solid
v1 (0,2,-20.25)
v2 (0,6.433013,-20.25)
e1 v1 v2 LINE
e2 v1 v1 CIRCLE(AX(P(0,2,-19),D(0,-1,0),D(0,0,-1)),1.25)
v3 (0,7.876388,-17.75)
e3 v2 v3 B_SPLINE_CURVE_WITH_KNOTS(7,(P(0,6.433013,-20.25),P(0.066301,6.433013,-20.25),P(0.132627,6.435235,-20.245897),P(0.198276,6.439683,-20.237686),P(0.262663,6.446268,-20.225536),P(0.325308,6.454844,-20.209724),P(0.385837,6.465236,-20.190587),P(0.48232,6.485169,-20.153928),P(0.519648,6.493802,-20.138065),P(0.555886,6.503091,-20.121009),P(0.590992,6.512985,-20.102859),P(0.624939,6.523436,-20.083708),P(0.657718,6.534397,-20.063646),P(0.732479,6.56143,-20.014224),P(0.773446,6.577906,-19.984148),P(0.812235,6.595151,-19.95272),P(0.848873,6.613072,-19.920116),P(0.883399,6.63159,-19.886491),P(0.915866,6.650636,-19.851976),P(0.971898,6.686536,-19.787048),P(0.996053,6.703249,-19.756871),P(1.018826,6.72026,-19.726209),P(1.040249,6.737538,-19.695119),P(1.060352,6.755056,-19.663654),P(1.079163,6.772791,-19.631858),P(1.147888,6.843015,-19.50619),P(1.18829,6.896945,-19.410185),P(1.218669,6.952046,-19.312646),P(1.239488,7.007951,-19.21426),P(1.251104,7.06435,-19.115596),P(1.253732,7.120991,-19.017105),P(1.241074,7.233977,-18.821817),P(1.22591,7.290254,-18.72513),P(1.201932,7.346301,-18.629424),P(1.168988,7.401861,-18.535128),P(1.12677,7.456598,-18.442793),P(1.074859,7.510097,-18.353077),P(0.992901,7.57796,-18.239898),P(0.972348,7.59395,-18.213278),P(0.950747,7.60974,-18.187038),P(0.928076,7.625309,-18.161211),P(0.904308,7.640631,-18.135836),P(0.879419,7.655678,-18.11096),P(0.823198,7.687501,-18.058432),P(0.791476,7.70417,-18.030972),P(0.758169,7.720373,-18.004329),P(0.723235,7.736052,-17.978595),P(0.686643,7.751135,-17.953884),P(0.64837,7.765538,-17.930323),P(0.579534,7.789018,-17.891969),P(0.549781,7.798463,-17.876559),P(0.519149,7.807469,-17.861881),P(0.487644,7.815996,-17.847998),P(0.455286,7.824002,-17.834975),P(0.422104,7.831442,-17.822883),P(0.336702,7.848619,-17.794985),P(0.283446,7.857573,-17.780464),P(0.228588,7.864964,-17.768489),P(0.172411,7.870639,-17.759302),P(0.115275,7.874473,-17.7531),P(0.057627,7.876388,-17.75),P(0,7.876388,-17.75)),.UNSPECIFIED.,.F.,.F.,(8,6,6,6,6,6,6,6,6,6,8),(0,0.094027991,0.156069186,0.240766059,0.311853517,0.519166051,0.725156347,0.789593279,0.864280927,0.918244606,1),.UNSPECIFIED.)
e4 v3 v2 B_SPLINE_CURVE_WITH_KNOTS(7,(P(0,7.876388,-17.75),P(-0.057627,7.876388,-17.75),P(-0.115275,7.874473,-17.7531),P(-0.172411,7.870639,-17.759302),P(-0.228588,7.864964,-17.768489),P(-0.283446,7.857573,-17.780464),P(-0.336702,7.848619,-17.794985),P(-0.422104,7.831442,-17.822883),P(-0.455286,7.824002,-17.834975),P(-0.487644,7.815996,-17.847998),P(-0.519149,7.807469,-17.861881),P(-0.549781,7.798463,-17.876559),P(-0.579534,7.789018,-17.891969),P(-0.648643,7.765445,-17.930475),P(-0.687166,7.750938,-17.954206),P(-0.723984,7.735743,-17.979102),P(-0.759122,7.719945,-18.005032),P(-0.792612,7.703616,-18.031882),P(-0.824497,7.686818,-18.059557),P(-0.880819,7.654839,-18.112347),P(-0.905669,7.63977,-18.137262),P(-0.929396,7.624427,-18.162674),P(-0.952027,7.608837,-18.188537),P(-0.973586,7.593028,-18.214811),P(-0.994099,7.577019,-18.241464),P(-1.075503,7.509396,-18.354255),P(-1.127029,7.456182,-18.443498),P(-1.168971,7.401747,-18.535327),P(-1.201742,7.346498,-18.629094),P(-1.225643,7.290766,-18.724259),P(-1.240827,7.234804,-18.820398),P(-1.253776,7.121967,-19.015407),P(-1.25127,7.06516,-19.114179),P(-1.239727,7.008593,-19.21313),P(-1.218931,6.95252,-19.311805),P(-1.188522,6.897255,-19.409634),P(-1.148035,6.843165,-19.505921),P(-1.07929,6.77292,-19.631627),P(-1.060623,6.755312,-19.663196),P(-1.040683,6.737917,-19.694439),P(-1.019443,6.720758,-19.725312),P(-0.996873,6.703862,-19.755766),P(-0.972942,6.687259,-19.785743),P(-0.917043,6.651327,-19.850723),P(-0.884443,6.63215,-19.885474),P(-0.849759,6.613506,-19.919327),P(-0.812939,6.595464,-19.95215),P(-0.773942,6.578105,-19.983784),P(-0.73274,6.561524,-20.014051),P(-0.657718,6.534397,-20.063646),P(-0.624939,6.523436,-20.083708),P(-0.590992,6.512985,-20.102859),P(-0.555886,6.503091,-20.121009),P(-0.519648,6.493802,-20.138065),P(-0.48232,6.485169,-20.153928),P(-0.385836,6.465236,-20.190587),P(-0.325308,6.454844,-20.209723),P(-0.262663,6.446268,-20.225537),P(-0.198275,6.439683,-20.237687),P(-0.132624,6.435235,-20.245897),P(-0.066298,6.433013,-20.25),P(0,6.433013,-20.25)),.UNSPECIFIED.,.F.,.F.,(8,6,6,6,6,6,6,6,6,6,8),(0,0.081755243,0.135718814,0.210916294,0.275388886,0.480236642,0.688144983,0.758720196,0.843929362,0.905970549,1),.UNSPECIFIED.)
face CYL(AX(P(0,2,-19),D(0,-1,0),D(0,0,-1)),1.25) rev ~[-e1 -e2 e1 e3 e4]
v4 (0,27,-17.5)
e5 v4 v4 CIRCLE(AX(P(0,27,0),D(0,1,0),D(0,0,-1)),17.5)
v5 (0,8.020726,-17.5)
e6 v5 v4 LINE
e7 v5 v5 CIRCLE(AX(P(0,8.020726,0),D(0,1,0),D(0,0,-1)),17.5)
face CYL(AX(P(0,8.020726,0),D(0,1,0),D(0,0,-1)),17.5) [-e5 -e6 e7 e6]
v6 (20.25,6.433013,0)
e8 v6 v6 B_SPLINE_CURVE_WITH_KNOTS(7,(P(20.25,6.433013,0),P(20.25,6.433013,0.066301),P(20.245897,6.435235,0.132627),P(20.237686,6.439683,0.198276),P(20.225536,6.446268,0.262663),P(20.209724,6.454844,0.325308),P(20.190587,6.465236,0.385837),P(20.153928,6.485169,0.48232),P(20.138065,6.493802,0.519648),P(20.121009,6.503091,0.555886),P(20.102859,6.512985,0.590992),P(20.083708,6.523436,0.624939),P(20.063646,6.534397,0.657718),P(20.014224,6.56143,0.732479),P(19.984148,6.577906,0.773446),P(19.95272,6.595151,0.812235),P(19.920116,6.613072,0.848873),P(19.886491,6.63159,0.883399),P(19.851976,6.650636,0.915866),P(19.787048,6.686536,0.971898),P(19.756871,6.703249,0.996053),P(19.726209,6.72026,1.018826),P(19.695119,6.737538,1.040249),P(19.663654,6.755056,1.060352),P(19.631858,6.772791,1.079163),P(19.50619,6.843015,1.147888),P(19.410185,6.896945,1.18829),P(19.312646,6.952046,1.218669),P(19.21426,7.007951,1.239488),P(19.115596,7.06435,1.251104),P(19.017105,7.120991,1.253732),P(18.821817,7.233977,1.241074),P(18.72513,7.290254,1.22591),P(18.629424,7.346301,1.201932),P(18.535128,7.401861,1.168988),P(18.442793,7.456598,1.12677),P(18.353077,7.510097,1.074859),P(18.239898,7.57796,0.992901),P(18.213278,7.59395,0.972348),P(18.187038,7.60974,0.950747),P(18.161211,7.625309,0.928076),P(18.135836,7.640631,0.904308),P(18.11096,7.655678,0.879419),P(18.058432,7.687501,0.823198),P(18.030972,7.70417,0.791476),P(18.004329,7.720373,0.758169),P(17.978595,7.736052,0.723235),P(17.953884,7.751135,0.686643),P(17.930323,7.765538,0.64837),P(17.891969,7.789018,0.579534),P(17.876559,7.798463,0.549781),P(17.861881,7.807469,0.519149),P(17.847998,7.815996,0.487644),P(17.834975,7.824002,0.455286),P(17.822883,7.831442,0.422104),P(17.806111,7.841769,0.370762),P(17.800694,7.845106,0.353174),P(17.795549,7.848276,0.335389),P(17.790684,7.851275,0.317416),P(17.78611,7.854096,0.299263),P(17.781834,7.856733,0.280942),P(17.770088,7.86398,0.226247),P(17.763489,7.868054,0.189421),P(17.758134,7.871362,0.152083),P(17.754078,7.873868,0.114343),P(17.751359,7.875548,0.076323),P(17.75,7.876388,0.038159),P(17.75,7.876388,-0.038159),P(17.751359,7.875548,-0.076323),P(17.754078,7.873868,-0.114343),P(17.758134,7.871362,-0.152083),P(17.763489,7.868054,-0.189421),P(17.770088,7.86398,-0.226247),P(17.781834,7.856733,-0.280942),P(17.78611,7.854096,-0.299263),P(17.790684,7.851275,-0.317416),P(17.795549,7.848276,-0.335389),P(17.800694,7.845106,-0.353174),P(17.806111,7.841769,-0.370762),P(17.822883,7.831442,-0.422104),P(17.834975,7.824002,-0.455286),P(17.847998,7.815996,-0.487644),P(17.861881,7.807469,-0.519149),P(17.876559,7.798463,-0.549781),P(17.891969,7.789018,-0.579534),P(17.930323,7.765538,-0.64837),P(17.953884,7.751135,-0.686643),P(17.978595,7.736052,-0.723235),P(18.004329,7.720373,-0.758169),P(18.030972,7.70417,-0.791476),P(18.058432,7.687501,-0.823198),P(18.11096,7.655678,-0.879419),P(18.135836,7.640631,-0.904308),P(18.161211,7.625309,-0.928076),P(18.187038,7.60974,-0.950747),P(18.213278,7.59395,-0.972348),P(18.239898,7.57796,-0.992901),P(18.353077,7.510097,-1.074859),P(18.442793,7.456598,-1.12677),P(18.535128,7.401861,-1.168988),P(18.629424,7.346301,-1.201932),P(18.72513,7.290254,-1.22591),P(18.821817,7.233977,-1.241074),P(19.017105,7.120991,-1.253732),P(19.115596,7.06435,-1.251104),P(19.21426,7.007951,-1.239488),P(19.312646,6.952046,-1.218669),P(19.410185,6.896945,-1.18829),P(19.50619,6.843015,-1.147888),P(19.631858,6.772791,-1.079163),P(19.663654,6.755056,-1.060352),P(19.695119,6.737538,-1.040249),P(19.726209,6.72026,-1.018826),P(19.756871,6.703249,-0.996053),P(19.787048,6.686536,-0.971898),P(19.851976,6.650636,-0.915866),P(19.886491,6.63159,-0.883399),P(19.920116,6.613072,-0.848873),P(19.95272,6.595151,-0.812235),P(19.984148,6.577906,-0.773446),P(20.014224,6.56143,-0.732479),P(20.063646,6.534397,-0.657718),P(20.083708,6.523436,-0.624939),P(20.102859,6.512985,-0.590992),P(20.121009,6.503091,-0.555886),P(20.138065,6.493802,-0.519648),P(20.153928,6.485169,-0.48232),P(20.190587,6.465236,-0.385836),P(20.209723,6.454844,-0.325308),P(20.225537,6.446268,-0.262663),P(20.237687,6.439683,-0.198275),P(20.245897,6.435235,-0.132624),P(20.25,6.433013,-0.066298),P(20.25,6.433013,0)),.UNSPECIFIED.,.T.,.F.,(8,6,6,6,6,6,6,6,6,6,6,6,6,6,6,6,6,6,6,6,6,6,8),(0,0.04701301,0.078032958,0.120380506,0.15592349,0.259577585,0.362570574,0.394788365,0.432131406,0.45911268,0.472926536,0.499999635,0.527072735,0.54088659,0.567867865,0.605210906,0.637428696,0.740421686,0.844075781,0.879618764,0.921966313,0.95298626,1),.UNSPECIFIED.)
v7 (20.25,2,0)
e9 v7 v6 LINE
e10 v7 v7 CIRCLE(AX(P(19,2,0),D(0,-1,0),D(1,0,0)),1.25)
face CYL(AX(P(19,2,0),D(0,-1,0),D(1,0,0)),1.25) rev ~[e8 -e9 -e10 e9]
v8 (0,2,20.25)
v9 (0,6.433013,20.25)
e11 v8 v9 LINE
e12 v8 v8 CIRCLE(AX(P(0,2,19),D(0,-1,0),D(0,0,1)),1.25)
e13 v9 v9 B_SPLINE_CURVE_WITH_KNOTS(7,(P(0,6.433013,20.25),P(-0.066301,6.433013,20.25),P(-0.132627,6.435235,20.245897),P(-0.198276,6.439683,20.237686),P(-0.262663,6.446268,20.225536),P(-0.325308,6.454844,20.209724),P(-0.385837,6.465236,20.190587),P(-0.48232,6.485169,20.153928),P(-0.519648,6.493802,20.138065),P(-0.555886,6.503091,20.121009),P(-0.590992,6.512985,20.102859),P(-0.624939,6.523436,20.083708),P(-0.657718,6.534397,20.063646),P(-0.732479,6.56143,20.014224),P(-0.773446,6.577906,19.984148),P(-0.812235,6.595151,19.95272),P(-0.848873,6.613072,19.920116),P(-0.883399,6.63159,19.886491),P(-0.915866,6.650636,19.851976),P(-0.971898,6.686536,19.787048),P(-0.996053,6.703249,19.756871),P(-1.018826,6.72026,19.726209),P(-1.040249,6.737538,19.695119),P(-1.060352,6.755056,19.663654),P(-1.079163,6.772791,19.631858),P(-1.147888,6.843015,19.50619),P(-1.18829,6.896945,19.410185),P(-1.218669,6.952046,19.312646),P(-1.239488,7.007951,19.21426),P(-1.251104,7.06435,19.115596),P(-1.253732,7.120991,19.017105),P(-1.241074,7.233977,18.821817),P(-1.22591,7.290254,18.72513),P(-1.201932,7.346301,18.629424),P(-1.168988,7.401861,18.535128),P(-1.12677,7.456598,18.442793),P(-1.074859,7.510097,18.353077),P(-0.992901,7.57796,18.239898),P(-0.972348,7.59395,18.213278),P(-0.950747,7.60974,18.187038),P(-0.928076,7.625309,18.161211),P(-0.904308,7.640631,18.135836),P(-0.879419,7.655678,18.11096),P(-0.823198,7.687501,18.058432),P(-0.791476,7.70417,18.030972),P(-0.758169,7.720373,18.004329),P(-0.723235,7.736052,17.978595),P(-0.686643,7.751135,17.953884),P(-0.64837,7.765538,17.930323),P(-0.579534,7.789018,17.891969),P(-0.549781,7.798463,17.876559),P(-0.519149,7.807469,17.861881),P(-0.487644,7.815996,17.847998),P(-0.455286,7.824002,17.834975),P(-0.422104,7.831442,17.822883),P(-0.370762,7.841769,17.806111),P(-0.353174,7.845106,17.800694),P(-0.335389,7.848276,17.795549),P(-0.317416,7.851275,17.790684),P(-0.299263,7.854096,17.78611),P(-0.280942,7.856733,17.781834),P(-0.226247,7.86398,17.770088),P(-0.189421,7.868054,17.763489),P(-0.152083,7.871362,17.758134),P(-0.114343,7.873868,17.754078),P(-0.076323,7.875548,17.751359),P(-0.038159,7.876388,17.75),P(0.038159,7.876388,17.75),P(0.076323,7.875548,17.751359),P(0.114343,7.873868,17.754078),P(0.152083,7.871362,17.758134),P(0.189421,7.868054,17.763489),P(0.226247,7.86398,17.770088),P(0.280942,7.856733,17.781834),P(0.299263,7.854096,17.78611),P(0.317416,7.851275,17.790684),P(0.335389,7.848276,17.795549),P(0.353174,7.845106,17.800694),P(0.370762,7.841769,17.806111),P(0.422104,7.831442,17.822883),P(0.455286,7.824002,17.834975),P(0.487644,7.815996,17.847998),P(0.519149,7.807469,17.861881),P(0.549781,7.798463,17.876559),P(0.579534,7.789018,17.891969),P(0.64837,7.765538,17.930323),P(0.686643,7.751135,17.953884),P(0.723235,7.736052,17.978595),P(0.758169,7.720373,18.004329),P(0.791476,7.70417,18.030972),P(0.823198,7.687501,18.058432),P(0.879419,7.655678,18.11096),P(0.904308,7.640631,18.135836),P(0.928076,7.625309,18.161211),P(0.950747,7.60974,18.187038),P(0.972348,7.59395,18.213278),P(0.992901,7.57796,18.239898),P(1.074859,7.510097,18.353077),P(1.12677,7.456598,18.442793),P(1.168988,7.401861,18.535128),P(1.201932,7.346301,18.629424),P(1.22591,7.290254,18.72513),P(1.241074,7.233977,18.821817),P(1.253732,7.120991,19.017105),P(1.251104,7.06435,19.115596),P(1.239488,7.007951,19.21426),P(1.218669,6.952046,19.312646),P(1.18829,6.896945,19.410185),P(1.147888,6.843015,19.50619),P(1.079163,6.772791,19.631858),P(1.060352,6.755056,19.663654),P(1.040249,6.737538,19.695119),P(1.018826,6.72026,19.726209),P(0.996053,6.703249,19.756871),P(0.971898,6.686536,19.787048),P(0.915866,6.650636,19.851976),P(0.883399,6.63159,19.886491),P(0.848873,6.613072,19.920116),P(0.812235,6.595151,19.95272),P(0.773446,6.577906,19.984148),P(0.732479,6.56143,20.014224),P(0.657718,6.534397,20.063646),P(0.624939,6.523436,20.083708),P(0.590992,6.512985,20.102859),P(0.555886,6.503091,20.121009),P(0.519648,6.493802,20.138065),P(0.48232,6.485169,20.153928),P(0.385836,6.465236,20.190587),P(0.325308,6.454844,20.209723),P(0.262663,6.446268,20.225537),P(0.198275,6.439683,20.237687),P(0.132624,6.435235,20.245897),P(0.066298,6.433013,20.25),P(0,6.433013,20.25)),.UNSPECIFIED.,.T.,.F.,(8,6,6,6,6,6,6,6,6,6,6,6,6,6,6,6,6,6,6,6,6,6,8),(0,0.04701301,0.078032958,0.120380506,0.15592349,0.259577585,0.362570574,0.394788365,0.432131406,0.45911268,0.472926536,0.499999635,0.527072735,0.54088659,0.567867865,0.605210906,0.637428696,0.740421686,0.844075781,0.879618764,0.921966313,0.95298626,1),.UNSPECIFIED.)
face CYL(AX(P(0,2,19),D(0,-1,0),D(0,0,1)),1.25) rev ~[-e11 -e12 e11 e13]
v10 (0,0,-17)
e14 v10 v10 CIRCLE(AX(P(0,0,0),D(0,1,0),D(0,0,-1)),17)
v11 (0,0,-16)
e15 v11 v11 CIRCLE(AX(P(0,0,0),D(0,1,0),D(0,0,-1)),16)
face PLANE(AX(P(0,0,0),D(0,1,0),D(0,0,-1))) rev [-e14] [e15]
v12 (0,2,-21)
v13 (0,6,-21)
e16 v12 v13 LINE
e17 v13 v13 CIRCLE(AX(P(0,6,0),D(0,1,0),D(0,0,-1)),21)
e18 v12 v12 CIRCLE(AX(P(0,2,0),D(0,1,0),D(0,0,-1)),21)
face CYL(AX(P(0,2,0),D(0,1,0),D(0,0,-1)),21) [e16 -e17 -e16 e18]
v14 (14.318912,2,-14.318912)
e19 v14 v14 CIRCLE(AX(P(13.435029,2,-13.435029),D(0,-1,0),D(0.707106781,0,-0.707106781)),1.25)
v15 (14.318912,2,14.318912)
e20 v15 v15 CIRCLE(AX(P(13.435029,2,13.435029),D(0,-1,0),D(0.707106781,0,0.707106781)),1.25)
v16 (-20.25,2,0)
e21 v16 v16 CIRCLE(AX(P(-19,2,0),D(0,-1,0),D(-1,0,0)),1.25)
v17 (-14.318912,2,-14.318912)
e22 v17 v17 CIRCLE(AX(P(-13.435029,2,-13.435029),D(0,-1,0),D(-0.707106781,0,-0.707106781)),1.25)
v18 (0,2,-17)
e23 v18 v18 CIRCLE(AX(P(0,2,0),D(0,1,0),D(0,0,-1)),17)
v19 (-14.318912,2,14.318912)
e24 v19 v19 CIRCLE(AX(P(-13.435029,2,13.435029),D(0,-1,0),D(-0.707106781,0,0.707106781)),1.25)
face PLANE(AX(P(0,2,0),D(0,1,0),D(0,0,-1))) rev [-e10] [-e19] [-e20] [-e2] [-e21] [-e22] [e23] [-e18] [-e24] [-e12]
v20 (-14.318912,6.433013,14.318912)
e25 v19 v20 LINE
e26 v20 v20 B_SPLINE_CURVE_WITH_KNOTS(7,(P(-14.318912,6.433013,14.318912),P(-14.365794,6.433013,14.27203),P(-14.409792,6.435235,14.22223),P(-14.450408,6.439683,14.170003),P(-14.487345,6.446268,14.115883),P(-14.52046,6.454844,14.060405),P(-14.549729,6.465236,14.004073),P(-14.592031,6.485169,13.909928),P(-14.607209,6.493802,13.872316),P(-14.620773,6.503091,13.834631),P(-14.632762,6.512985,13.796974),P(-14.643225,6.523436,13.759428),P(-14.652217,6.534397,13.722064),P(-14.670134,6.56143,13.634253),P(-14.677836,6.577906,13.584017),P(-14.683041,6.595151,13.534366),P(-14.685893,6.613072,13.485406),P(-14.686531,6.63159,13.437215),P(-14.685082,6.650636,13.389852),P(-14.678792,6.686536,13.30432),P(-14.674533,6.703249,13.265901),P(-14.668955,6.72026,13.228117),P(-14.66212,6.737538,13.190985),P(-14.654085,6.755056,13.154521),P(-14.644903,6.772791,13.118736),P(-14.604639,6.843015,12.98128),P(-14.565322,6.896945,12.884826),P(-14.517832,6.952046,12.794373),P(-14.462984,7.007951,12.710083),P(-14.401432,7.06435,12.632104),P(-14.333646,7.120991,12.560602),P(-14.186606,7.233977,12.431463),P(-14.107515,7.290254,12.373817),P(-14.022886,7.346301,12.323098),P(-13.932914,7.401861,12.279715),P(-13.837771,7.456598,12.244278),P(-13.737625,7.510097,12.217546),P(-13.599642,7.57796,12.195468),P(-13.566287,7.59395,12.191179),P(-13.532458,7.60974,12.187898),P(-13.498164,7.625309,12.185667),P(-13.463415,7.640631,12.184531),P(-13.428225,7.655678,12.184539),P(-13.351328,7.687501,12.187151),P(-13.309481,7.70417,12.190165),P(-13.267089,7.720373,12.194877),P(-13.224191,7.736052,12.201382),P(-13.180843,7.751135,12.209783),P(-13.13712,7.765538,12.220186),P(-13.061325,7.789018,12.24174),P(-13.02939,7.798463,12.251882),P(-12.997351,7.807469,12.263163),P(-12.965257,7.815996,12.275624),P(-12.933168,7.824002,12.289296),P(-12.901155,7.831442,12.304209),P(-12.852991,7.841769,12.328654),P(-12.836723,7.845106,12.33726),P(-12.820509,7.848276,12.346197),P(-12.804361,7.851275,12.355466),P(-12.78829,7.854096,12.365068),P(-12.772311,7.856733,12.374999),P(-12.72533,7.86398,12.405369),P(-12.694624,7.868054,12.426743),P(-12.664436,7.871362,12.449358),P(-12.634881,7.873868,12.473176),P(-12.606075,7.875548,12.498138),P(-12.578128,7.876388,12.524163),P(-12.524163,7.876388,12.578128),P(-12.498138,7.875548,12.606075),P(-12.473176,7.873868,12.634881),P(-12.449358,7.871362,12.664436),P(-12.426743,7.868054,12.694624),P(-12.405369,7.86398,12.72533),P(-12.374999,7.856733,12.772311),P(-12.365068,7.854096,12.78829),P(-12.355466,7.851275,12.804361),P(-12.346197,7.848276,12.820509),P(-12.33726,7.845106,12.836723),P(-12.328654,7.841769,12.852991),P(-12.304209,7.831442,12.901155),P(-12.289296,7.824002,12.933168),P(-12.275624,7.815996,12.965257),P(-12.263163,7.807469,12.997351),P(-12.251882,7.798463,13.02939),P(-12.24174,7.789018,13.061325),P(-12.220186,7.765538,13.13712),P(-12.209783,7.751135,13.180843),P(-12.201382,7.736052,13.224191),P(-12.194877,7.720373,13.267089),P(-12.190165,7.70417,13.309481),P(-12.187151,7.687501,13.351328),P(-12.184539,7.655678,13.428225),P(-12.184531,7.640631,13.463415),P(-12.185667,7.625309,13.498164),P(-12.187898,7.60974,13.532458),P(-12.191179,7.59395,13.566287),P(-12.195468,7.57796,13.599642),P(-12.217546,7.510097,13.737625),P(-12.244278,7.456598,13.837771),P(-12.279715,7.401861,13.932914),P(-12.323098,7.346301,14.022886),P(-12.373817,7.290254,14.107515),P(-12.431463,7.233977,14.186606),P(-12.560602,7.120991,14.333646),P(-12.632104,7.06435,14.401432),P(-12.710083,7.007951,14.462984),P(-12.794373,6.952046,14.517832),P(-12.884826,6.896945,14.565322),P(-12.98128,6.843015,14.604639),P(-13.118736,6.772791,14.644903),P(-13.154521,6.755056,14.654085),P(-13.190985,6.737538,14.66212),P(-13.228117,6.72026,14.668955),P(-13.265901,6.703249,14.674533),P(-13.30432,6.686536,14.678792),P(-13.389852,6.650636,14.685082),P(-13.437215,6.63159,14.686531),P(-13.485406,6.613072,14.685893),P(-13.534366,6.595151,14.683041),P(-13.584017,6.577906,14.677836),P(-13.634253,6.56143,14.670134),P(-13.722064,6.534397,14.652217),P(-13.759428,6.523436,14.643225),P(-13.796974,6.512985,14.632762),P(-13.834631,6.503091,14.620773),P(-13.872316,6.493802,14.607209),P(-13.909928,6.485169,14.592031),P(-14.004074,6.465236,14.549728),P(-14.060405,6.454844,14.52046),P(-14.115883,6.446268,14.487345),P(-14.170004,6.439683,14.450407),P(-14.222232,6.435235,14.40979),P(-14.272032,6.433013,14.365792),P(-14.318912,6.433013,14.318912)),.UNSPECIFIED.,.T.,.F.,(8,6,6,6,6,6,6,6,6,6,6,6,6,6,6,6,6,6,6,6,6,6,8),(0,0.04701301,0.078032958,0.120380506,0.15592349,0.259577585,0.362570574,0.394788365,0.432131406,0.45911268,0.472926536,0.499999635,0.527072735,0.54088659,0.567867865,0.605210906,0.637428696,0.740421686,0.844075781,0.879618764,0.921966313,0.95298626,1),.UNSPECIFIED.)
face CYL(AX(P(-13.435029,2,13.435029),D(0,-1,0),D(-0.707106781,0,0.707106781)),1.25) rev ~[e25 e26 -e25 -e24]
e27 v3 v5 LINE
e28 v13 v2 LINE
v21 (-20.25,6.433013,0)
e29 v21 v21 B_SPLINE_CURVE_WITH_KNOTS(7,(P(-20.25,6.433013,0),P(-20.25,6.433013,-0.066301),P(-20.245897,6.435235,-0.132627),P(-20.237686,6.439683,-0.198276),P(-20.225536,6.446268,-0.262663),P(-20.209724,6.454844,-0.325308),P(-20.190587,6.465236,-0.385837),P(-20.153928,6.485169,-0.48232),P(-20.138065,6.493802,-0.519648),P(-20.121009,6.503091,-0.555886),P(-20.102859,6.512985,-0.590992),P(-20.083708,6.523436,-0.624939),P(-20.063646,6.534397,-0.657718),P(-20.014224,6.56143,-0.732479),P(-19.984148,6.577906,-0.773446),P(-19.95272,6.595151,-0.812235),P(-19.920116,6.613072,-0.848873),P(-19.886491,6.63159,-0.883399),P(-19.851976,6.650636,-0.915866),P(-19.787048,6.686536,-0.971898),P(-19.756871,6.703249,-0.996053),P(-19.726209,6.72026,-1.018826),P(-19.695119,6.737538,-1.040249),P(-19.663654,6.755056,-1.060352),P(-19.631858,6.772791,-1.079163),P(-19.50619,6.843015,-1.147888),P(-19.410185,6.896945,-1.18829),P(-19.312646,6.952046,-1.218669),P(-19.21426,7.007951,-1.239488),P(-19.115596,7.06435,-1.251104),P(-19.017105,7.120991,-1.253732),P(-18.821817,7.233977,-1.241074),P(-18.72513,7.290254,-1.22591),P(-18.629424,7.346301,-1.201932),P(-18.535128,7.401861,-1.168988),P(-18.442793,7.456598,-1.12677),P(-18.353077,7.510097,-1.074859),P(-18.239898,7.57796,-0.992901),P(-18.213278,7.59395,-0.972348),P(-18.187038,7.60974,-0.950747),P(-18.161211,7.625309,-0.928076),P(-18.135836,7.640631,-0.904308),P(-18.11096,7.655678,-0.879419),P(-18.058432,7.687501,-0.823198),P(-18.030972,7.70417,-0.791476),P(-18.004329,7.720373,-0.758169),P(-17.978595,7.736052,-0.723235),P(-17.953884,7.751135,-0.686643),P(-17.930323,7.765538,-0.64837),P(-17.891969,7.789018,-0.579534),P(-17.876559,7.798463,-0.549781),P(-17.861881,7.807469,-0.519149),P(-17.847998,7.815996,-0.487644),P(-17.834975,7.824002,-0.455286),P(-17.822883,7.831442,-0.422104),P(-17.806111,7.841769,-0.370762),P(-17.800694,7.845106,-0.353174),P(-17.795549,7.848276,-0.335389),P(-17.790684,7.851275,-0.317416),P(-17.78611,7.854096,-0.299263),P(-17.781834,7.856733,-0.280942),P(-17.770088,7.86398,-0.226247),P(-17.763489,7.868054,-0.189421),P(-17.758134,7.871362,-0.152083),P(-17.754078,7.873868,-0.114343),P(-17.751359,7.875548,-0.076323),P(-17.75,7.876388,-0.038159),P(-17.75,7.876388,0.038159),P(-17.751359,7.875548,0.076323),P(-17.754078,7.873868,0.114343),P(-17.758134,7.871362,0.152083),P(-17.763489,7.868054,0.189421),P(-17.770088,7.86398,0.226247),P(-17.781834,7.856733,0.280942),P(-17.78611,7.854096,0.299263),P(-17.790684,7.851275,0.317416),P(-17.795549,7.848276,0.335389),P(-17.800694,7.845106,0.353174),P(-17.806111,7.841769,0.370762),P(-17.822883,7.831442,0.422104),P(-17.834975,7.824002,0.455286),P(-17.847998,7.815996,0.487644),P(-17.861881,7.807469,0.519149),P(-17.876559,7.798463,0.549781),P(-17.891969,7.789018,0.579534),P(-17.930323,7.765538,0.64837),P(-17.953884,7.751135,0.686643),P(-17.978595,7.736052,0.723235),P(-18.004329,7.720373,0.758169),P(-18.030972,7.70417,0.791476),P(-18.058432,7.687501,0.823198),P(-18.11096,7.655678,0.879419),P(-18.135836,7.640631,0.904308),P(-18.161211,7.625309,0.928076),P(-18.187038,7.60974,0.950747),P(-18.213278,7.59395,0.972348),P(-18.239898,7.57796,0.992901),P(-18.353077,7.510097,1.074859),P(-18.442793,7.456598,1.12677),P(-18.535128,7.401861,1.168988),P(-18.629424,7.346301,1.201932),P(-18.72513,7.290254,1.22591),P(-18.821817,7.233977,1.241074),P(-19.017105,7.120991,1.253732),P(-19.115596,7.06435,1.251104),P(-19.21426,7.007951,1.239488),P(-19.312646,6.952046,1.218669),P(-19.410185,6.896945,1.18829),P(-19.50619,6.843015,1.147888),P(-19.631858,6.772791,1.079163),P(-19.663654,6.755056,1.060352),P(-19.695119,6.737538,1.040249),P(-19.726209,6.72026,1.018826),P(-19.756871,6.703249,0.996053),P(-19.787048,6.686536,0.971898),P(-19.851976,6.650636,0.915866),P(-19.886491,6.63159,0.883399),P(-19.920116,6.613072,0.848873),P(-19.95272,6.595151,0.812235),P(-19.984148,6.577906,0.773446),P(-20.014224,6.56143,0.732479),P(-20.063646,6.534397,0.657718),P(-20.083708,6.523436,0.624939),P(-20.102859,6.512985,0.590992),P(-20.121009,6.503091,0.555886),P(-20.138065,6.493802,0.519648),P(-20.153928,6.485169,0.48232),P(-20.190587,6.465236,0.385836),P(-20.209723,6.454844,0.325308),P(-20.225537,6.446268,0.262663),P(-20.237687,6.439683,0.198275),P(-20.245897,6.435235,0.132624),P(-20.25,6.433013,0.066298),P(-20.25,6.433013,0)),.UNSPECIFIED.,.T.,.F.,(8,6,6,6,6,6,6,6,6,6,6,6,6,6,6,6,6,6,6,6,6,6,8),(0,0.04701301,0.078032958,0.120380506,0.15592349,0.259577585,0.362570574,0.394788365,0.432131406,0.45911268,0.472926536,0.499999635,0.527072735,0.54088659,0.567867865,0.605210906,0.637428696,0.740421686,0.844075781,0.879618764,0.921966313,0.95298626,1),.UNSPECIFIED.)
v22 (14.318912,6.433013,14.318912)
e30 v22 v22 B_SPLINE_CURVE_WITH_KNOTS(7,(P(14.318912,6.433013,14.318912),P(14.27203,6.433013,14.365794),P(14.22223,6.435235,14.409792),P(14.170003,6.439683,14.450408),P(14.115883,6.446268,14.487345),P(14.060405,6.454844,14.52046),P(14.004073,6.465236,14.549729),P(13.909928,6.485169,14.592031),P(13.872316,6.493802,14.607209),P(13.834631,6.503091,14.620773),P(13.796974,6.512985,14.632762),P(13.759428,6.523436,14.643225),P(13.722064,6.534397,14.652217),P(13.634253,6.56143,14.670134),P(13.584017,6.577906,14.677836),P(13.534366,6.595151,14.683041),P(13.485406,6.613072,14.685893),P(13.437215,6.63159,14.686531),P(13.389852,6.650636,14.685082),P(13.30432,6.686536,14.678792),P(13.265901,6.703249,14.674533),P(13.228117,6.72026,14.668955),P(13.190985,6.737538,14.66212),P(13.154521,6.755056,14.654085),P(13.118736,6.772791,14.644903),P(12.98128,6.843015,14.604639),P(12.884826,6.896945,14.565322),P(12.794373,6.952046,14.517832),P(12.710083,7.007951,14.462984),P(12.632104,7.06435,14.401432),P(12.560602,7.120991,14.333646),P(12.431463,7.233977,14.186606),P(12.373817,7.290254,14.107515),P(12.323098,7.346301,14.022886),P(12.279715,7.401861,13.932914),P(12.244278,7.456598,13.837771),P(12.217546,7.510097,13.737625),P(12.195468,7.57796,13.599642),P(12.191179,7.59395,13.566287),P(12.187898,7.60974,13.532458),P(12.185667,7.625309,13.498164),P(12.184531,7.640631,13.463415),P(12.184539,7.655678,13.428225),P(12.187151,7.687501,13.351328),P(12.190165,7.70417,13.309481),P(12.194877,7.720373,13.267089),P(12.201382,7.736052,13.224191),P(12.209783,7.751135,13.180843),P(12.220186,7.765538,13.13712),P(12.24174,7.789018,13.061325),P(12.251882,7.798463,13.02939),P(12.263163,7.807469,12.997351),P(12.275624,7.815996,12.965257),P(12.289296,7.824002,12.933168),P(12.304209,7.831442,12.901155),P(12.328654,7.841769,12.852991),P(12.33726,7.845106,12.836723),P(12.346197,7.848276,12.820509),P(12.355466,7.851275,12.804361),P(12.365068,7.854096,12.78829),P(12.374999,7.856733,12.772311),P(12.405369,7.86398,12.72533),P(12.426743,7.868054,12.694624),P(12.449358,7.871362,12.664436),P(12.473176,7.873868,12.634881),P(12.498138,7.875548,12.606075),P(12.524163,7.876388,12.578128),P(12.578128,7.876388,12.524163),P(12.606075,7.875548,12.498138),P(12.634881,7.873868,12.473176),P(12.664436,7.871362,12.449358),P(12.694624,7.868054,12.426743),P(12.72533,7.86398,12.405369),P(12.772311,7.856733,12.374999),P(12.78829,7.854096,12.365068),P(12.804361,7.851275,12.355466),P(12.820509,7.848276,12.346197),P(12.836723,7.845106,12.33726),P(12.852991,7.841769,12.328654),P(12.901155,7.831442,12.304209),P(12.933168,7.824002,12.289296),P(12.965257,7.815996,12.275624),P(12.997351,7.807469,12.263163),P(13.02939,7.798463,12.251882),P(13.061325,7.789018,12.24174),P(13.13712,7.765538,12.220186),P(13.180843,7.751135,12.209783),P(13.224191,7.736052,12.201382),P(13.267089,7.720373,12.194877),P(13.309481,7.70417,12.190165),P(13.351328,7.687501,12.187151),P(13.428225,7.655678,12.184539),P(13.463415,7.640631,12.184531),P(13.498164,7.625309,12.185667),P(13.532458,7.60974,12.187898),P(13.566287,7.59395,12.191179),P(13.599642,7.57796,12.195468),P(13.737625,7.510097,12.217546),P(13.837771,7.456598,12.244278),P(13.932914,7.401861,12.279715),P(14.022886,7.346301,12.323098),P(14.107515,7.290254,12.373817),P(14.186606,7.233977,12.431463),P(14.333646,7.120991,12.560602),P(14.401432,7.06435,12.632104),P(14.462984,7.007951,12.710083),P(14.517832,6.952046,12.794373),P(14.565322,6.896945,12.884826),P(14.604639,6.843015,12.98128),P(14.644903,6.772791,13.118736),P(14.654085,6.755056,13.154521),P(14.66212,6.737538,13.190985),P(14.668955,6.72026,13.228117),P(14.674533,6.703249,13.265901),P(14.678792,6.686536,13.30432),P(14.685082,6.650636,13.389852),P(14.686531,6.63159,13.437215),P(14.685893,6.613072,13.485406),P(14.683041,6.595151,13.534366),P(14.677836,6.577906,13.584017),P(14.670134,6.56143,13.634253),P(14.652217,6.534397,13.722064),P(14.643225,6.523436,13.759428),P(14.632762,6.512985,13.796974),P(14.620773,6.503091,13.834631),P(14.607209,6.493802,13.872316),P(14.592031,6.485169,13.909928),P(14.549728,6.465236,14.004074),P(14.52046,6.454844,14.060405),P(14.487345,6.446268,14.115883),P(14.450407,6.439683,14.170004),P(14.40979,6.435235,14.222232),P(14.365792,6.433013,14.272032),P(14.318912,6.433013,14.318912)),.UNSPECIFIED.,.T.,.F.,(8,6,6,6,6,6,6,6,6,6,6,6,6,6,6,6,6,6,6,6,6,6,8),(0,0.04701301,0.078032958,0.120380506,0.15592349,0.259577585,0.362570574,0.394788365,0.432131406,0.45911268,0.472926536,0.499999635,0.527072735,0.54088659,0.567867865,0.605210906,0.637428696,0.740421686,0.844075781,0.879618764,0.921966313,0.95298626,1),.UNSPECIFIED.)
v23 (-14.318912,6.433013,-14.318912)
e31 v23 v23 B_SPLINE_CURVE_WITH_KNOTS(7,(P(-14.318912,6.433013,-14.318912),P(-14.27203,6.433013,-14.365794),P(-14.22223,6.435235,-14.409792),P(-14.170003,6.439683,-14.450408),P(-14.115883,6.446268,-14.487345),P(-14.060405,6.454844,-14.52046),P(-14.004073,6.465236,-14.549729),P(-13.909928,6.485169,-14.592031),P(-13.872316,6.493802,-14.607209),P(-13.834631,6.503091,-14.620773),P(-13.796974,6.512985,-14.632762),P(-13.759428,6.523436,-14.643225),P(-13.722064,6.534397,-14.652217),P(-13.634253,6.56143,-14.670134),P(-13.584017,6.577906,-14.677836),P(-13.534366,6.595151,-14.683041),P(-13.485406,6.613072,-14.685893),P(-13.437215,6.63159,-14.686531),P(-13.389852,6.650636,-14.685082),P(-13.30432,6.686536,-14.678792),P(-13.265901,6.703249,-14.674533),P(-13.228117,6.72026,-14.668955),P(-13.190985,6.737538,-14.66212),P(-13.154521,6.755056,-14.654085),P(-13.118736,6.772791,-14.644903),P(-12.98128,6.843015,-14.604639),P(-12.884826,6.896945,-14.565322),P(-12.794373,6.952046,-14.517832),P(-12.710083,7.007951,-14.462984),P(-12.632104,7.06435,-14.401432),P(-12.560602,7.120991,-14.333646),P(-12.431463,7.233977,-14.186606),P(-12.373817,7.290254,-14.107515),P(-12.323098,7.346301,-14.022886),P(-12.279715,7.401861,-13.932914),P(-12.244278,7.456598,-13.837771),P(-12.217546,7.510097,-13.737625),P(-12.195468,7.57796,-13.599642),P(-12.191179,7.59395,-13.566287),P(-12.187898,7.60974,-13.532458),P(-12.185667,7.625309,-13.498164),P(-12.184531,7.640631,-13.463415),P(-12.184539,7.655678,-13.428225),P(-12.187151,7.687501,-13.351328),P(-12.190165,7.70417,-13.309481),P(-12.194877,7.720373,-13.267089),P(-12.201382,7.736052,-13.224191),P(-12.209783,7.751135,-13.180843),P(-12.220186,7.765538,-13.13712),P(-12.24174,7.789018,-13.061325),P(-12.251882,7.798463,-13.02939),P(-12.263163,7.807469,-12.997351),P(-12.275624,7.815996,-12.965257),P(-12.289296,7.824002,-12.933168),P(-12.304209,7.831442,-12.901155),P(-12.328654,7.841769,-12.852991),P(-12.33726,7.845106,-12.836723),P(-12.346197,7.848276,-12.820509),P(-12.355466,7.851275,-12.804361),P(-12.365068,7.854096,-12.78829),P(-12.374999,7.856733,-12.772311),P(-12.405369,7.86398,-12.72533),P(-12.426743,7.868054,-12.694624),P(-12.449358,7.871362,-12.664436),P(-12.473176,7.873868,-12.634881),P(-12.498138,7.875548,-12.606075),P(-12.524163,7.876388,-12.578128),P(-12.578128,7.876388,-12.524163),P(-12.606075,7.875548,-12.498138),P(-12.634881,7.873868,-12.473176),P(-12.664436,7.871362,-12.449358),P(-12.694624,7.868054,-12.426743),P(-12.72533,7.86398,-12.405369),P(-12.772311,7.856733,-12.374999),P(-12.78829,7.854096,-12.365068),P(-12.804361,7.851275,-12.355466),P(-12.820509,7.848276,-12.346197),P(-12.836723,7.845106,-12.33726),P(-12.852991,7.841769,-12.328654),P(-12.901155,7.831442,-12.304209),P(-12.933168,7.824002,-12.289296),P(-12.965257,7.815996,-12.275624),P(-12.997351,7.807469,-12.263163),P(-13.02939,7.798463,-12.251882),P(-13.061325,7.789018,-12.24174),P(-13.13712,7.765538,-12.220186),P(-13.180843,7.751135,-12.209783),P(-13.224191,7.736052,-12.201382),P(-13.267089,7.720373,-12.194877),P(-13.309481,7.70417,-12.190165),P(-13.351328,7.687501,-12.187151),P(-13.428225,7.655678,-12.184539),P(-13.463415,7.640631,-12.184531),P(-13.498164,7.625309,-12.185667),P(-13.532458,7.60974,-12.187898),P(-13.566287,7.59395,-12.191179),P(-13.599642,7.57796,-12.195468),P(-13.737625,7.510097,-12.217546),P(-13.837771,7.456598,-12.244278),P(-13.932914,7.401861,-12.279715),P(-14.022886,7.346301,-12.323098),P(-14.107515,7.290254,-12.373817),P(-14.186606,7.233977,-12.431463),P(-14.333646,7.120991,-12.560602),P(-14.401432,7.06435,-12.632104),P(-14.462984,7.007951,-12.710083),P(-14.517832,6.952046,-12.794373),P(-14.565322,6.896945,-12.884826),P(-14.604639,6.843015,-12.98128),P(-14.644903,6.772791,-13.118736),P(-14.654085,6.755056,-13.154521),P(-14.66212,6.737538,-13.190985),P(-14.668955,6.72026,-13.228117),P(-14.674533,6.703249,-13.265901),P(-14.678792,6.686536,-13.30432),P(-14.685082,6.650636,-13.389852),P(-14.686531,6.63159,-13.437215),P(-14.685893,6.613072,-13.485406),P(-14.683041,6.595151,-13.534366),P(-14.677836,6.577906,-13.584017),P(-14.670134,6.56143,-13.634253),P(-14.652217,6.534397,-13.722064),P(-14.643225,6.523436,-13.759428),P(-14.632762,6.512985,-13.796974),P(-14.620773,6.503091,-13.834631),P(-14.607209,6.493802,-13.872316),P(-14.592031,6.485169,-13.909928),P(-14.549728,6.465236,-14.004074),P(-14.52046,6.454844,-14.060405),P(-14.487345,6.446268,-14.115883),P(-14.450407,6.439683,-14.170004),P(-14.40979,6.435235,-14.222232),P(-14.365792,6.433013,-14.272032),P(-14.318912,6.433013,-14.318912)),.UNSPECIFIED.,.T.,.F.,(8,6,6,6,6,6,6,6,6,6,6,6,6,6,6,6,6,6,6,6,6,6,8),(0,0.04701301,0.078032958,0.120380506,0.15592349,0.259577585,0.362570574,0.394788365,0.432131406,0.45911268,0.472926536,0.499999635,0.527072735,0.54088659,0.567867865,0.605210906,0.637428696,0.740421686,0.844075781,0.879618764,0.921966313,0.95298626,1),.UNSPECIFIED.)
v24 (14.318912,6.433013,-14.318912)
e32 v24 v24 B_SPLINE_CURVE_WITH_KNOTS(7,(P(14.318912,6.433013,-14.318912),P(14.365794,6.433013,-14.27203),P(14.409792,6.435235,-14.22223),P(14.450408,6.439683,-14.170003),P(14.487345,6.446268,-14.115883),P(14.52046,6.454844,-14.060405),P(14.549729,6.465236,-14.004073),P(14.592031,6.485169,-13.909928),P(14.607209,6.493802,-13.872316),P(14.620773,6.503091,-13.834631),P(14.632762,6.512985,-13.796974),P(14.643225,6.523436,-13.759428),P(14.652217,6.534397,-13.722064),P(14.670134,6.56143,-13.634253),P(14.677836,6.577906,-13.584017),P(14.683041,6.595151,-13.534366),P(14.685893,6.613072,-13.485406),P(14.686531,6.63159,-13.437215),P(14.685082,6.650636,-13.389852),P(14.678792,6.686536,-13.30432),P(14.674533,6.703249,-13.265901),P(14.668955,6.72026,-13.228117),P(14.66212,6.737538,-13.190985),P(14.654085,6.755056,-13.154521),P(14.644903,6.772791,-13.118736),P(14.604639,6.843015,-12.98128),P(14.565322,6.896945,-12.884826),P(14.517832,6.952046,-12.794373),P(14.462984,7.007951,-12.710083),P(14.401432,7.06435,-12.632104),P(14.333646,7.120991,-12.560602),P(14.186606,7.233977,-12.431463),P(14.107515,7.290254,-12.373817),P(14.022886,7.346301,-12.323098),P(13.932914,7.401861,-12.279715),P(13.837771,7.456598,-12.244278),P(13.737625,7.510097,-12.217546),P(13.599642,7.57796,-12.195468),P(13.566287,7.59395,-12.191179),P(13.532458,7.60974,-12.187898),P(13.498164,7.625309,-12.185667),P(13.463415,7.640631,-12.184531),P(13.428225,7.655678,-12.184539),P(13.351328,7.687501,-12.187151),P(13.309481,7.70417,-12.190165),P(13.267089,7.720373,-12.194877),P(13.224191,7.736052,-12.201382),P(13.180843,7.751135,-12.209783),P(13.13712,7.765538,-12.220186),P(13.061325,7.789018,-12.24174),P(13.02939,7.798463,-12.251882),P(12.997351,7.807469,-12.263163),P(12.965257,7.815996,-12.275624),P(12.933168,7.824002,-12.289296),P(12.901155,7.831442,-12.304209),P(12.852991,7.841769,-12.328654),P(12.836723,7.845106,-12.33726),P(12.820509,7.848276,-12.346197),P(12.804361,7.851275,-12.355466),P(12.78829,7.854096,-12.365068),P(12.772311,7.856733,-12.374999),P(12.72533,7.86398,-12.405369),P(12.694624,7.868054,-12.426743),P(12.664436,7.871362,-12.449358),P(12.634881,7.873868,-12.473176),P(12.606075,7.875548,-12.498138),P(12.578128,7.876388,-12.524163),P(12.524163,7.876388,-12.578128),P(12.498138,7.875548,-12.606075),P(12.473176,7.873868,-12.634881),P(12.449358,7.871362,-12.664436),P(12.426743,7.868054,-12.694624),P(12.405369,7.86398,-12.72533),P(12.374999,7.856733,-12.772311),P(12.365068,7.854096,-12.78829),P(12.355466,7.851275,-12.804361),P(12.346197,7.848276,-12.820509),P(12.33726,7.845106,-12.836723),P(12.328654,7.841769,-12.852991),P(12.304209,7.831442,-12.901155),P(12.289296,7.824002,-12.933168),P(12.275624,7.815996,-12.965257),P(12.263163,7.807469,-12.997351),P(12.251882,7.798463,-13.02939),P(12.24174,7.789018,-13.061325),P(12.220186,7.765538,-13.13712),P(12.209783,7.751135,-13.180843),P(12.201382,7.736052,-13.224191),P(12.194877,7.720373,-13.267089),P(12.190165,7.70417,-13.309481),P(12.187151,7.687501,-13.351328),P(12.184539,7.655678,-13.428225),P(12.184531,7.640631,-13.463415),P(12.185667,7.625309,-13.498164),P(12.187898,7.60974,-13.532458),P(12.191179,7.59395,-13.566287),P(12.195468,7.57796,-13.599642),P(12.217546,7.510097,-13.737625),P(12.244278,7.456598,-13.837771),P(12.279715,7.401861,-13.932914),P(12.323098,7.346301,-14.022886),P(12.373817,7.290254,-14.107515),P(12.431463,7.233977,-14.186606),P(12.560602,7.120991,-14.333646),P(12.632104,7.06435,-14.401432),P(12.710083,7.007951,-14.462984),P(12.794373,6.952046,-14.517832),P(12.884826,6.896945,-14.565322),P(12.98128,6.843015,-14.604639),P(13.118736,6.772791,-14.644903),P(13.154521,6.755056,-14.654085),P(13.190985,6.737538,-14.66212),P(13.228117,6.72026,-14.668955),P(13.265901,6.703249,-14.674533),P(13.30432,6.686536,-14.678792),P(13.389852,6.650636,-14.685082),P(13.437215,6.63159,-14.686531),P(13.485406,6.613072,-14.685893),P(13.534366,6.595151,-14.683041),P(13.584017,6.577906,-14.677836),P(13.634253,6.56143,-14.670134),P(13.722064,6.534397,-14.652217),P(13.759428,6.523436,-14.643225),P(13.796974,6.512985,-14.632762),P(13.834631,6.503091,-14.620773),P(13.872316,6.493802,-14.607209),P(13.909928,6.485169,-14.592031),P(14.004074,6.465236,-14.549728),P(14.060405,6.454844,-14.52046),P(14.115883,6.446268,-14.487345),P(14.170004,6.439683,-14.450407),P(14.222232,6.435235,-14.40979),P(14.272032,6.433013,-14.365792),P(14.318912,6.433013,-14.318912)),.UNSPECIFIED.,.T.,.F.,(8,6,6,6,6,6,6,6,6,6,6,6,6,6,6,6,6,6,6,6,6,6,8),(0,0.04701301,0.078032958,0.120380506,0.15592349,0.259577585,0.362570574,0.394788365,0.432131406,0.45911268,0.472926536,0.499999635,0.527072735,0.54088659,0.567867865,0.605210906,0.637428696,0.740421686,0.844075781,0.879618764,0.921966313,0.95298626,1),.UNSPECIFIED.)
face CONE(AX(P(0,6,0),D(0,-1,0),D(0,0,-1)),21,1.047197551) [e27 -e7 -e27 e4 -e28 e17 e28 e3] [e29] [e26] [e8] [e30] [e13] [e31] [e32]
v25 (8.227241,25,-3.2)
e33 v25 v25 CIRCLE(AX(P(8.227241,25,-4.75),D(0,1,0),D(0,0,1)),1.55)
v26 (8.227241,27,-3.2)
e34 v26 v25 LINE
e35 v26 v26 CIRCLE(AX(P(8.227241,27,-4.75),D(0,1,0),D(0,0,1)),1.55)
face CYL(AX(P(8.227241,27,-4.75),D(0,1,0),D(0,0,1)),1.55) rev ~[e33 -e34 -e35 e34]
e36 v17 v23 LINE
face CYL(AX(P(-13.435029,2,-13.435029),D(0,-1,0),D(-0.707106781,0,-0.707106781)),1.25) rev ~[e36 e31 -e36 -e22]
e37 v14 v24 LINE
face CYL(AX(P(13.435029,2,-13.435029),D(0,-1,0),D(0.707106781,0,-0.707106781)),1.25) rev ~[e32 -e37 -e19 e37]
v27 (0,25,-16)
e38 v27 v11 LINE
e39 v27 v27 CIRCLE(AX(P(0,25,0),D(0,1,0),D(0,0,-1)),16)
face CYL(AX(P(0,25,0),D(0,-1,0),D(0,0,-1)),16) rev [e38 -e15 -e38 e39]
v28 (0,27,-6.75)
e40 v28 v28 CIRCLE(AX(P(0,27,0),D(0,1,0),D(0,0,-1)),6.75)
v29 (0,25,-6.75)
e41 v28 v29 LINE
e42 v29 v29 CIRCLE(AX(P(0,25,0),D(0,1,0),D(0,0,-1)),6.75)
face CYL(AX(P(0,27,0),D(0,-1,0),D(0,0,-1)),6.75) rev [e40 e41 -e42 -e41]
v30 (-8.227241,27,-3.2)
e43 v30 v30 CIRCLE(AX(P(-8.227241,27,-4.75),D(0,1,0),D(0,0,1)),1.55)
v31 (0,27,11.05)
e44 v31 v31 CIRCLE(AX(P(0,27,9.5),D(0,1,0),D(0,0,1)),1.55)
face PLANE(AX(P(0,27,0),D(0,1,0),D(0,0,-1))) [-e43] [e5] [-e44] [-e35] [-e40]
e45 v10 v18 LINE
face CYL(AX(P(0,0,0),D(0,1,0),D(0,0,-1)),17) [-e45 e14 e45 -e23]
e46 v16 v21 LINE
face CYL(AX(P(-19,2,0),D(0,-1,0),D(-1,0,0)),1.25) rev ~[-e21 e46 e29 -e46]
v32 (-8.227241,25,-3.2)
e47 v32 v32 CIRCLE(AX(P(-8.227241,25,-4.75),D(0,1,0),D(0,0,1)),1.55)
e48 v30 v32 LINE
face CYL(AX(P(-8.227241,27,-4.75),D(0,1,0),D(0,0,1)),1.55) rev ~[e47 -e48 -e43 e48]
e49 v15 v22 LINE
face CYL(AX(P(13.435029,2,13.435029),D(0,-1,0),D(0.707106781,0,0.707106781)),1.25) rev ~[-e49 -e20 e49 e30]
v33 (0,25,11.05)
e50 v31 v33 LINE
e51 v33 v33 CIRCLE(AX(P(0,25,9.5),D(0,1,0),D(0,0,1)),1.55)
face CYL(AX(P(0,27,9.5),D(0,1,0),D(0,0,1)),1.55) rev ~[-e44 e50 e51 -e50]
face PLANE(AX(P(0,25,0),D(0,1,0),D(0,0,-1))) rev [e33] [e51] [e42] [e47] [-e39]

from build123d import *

# Parameters (mm, degrees)
SKETCH_2_R               = 1.25
CUT_EXTRUDE_1_DEPTH      = 8
PATTERN_CIRCULAR_1_COUNT = 8
SKETCH_3_R               = 1.55
CUT_EXTRUDE_2_DEPTH      = 41.137264585


with BuildPart() as part:
    # 草图1 → 旋转1 (revolve)
    with BuildSketch(Plane.XY, mode=Mode.PRIVATE) as revolve_1_sk:
        Polygon((-16, 0), (-17, 0), (-17, 2), (-21, 2), (-21, 6), (-17.5, 8.020725942), (-17.5, 27), (-6.75, 27), (-6.75, 25), (-16, 25), align=None)
    revolve(revolve_1_sk.sketch.rotate(Axis((0, 0, 0), (0, 1, 0)), 270), axis=Axis((0, 0, 0), (0, 1, 0)))

    # 草图2 → 切除-拉伸1 (cut)
    with BuildSketch(Plane.XZ.offset(-2)):
        with Locations(Location((0, -19, 0), (0, 0, 270))):
            Circle(SKETCH_2_R)
    cut_extrude_1 = extrude(amount=-CUT_EXTRUDE_1_DEPTH, mode=Mode.SUBTRACT)

    # 阵列(圆周)1: 切除-拉伸1 ×8 about axis
    pattern_circular_1_axis = Axis((0, 0, 0), (0, 1, 0))
    for i in range(1, PATTERN_CIRCULAR_1_COUNT):
        add(cut_extrude_1.rotate(pattern_circular_1_axis, i * 360 / PATTERN_CIRCULAR_1_COUNT), mode=Mode.SUBTRACT)

    # 草图3 → 切除-拉伸2 (cut, through all)
    with BuildSketch(Plane(origin=(0, 27, 0), x_dir=(1, 0, 0), z_dir=(0, 1, 0))):
        with Locations(Location((0, -9.5, 0), (0, 0, 270))):
            Circle(SKETCH_3_R)
        with Locations(Location((-8.227241336, 4.75, 0), (0, 0, 270))):
            Circle(SKETCH_3_R)
        with Locations(Location((8.227241336, 4.75, 0), (0, 0, 270))):
            Circle(SKETCH_3_R)
    extrude(amount=-CUT_EXTRUDE_2_DEPTH, mode=Mode.SUBTRACT)


solid = part.part
